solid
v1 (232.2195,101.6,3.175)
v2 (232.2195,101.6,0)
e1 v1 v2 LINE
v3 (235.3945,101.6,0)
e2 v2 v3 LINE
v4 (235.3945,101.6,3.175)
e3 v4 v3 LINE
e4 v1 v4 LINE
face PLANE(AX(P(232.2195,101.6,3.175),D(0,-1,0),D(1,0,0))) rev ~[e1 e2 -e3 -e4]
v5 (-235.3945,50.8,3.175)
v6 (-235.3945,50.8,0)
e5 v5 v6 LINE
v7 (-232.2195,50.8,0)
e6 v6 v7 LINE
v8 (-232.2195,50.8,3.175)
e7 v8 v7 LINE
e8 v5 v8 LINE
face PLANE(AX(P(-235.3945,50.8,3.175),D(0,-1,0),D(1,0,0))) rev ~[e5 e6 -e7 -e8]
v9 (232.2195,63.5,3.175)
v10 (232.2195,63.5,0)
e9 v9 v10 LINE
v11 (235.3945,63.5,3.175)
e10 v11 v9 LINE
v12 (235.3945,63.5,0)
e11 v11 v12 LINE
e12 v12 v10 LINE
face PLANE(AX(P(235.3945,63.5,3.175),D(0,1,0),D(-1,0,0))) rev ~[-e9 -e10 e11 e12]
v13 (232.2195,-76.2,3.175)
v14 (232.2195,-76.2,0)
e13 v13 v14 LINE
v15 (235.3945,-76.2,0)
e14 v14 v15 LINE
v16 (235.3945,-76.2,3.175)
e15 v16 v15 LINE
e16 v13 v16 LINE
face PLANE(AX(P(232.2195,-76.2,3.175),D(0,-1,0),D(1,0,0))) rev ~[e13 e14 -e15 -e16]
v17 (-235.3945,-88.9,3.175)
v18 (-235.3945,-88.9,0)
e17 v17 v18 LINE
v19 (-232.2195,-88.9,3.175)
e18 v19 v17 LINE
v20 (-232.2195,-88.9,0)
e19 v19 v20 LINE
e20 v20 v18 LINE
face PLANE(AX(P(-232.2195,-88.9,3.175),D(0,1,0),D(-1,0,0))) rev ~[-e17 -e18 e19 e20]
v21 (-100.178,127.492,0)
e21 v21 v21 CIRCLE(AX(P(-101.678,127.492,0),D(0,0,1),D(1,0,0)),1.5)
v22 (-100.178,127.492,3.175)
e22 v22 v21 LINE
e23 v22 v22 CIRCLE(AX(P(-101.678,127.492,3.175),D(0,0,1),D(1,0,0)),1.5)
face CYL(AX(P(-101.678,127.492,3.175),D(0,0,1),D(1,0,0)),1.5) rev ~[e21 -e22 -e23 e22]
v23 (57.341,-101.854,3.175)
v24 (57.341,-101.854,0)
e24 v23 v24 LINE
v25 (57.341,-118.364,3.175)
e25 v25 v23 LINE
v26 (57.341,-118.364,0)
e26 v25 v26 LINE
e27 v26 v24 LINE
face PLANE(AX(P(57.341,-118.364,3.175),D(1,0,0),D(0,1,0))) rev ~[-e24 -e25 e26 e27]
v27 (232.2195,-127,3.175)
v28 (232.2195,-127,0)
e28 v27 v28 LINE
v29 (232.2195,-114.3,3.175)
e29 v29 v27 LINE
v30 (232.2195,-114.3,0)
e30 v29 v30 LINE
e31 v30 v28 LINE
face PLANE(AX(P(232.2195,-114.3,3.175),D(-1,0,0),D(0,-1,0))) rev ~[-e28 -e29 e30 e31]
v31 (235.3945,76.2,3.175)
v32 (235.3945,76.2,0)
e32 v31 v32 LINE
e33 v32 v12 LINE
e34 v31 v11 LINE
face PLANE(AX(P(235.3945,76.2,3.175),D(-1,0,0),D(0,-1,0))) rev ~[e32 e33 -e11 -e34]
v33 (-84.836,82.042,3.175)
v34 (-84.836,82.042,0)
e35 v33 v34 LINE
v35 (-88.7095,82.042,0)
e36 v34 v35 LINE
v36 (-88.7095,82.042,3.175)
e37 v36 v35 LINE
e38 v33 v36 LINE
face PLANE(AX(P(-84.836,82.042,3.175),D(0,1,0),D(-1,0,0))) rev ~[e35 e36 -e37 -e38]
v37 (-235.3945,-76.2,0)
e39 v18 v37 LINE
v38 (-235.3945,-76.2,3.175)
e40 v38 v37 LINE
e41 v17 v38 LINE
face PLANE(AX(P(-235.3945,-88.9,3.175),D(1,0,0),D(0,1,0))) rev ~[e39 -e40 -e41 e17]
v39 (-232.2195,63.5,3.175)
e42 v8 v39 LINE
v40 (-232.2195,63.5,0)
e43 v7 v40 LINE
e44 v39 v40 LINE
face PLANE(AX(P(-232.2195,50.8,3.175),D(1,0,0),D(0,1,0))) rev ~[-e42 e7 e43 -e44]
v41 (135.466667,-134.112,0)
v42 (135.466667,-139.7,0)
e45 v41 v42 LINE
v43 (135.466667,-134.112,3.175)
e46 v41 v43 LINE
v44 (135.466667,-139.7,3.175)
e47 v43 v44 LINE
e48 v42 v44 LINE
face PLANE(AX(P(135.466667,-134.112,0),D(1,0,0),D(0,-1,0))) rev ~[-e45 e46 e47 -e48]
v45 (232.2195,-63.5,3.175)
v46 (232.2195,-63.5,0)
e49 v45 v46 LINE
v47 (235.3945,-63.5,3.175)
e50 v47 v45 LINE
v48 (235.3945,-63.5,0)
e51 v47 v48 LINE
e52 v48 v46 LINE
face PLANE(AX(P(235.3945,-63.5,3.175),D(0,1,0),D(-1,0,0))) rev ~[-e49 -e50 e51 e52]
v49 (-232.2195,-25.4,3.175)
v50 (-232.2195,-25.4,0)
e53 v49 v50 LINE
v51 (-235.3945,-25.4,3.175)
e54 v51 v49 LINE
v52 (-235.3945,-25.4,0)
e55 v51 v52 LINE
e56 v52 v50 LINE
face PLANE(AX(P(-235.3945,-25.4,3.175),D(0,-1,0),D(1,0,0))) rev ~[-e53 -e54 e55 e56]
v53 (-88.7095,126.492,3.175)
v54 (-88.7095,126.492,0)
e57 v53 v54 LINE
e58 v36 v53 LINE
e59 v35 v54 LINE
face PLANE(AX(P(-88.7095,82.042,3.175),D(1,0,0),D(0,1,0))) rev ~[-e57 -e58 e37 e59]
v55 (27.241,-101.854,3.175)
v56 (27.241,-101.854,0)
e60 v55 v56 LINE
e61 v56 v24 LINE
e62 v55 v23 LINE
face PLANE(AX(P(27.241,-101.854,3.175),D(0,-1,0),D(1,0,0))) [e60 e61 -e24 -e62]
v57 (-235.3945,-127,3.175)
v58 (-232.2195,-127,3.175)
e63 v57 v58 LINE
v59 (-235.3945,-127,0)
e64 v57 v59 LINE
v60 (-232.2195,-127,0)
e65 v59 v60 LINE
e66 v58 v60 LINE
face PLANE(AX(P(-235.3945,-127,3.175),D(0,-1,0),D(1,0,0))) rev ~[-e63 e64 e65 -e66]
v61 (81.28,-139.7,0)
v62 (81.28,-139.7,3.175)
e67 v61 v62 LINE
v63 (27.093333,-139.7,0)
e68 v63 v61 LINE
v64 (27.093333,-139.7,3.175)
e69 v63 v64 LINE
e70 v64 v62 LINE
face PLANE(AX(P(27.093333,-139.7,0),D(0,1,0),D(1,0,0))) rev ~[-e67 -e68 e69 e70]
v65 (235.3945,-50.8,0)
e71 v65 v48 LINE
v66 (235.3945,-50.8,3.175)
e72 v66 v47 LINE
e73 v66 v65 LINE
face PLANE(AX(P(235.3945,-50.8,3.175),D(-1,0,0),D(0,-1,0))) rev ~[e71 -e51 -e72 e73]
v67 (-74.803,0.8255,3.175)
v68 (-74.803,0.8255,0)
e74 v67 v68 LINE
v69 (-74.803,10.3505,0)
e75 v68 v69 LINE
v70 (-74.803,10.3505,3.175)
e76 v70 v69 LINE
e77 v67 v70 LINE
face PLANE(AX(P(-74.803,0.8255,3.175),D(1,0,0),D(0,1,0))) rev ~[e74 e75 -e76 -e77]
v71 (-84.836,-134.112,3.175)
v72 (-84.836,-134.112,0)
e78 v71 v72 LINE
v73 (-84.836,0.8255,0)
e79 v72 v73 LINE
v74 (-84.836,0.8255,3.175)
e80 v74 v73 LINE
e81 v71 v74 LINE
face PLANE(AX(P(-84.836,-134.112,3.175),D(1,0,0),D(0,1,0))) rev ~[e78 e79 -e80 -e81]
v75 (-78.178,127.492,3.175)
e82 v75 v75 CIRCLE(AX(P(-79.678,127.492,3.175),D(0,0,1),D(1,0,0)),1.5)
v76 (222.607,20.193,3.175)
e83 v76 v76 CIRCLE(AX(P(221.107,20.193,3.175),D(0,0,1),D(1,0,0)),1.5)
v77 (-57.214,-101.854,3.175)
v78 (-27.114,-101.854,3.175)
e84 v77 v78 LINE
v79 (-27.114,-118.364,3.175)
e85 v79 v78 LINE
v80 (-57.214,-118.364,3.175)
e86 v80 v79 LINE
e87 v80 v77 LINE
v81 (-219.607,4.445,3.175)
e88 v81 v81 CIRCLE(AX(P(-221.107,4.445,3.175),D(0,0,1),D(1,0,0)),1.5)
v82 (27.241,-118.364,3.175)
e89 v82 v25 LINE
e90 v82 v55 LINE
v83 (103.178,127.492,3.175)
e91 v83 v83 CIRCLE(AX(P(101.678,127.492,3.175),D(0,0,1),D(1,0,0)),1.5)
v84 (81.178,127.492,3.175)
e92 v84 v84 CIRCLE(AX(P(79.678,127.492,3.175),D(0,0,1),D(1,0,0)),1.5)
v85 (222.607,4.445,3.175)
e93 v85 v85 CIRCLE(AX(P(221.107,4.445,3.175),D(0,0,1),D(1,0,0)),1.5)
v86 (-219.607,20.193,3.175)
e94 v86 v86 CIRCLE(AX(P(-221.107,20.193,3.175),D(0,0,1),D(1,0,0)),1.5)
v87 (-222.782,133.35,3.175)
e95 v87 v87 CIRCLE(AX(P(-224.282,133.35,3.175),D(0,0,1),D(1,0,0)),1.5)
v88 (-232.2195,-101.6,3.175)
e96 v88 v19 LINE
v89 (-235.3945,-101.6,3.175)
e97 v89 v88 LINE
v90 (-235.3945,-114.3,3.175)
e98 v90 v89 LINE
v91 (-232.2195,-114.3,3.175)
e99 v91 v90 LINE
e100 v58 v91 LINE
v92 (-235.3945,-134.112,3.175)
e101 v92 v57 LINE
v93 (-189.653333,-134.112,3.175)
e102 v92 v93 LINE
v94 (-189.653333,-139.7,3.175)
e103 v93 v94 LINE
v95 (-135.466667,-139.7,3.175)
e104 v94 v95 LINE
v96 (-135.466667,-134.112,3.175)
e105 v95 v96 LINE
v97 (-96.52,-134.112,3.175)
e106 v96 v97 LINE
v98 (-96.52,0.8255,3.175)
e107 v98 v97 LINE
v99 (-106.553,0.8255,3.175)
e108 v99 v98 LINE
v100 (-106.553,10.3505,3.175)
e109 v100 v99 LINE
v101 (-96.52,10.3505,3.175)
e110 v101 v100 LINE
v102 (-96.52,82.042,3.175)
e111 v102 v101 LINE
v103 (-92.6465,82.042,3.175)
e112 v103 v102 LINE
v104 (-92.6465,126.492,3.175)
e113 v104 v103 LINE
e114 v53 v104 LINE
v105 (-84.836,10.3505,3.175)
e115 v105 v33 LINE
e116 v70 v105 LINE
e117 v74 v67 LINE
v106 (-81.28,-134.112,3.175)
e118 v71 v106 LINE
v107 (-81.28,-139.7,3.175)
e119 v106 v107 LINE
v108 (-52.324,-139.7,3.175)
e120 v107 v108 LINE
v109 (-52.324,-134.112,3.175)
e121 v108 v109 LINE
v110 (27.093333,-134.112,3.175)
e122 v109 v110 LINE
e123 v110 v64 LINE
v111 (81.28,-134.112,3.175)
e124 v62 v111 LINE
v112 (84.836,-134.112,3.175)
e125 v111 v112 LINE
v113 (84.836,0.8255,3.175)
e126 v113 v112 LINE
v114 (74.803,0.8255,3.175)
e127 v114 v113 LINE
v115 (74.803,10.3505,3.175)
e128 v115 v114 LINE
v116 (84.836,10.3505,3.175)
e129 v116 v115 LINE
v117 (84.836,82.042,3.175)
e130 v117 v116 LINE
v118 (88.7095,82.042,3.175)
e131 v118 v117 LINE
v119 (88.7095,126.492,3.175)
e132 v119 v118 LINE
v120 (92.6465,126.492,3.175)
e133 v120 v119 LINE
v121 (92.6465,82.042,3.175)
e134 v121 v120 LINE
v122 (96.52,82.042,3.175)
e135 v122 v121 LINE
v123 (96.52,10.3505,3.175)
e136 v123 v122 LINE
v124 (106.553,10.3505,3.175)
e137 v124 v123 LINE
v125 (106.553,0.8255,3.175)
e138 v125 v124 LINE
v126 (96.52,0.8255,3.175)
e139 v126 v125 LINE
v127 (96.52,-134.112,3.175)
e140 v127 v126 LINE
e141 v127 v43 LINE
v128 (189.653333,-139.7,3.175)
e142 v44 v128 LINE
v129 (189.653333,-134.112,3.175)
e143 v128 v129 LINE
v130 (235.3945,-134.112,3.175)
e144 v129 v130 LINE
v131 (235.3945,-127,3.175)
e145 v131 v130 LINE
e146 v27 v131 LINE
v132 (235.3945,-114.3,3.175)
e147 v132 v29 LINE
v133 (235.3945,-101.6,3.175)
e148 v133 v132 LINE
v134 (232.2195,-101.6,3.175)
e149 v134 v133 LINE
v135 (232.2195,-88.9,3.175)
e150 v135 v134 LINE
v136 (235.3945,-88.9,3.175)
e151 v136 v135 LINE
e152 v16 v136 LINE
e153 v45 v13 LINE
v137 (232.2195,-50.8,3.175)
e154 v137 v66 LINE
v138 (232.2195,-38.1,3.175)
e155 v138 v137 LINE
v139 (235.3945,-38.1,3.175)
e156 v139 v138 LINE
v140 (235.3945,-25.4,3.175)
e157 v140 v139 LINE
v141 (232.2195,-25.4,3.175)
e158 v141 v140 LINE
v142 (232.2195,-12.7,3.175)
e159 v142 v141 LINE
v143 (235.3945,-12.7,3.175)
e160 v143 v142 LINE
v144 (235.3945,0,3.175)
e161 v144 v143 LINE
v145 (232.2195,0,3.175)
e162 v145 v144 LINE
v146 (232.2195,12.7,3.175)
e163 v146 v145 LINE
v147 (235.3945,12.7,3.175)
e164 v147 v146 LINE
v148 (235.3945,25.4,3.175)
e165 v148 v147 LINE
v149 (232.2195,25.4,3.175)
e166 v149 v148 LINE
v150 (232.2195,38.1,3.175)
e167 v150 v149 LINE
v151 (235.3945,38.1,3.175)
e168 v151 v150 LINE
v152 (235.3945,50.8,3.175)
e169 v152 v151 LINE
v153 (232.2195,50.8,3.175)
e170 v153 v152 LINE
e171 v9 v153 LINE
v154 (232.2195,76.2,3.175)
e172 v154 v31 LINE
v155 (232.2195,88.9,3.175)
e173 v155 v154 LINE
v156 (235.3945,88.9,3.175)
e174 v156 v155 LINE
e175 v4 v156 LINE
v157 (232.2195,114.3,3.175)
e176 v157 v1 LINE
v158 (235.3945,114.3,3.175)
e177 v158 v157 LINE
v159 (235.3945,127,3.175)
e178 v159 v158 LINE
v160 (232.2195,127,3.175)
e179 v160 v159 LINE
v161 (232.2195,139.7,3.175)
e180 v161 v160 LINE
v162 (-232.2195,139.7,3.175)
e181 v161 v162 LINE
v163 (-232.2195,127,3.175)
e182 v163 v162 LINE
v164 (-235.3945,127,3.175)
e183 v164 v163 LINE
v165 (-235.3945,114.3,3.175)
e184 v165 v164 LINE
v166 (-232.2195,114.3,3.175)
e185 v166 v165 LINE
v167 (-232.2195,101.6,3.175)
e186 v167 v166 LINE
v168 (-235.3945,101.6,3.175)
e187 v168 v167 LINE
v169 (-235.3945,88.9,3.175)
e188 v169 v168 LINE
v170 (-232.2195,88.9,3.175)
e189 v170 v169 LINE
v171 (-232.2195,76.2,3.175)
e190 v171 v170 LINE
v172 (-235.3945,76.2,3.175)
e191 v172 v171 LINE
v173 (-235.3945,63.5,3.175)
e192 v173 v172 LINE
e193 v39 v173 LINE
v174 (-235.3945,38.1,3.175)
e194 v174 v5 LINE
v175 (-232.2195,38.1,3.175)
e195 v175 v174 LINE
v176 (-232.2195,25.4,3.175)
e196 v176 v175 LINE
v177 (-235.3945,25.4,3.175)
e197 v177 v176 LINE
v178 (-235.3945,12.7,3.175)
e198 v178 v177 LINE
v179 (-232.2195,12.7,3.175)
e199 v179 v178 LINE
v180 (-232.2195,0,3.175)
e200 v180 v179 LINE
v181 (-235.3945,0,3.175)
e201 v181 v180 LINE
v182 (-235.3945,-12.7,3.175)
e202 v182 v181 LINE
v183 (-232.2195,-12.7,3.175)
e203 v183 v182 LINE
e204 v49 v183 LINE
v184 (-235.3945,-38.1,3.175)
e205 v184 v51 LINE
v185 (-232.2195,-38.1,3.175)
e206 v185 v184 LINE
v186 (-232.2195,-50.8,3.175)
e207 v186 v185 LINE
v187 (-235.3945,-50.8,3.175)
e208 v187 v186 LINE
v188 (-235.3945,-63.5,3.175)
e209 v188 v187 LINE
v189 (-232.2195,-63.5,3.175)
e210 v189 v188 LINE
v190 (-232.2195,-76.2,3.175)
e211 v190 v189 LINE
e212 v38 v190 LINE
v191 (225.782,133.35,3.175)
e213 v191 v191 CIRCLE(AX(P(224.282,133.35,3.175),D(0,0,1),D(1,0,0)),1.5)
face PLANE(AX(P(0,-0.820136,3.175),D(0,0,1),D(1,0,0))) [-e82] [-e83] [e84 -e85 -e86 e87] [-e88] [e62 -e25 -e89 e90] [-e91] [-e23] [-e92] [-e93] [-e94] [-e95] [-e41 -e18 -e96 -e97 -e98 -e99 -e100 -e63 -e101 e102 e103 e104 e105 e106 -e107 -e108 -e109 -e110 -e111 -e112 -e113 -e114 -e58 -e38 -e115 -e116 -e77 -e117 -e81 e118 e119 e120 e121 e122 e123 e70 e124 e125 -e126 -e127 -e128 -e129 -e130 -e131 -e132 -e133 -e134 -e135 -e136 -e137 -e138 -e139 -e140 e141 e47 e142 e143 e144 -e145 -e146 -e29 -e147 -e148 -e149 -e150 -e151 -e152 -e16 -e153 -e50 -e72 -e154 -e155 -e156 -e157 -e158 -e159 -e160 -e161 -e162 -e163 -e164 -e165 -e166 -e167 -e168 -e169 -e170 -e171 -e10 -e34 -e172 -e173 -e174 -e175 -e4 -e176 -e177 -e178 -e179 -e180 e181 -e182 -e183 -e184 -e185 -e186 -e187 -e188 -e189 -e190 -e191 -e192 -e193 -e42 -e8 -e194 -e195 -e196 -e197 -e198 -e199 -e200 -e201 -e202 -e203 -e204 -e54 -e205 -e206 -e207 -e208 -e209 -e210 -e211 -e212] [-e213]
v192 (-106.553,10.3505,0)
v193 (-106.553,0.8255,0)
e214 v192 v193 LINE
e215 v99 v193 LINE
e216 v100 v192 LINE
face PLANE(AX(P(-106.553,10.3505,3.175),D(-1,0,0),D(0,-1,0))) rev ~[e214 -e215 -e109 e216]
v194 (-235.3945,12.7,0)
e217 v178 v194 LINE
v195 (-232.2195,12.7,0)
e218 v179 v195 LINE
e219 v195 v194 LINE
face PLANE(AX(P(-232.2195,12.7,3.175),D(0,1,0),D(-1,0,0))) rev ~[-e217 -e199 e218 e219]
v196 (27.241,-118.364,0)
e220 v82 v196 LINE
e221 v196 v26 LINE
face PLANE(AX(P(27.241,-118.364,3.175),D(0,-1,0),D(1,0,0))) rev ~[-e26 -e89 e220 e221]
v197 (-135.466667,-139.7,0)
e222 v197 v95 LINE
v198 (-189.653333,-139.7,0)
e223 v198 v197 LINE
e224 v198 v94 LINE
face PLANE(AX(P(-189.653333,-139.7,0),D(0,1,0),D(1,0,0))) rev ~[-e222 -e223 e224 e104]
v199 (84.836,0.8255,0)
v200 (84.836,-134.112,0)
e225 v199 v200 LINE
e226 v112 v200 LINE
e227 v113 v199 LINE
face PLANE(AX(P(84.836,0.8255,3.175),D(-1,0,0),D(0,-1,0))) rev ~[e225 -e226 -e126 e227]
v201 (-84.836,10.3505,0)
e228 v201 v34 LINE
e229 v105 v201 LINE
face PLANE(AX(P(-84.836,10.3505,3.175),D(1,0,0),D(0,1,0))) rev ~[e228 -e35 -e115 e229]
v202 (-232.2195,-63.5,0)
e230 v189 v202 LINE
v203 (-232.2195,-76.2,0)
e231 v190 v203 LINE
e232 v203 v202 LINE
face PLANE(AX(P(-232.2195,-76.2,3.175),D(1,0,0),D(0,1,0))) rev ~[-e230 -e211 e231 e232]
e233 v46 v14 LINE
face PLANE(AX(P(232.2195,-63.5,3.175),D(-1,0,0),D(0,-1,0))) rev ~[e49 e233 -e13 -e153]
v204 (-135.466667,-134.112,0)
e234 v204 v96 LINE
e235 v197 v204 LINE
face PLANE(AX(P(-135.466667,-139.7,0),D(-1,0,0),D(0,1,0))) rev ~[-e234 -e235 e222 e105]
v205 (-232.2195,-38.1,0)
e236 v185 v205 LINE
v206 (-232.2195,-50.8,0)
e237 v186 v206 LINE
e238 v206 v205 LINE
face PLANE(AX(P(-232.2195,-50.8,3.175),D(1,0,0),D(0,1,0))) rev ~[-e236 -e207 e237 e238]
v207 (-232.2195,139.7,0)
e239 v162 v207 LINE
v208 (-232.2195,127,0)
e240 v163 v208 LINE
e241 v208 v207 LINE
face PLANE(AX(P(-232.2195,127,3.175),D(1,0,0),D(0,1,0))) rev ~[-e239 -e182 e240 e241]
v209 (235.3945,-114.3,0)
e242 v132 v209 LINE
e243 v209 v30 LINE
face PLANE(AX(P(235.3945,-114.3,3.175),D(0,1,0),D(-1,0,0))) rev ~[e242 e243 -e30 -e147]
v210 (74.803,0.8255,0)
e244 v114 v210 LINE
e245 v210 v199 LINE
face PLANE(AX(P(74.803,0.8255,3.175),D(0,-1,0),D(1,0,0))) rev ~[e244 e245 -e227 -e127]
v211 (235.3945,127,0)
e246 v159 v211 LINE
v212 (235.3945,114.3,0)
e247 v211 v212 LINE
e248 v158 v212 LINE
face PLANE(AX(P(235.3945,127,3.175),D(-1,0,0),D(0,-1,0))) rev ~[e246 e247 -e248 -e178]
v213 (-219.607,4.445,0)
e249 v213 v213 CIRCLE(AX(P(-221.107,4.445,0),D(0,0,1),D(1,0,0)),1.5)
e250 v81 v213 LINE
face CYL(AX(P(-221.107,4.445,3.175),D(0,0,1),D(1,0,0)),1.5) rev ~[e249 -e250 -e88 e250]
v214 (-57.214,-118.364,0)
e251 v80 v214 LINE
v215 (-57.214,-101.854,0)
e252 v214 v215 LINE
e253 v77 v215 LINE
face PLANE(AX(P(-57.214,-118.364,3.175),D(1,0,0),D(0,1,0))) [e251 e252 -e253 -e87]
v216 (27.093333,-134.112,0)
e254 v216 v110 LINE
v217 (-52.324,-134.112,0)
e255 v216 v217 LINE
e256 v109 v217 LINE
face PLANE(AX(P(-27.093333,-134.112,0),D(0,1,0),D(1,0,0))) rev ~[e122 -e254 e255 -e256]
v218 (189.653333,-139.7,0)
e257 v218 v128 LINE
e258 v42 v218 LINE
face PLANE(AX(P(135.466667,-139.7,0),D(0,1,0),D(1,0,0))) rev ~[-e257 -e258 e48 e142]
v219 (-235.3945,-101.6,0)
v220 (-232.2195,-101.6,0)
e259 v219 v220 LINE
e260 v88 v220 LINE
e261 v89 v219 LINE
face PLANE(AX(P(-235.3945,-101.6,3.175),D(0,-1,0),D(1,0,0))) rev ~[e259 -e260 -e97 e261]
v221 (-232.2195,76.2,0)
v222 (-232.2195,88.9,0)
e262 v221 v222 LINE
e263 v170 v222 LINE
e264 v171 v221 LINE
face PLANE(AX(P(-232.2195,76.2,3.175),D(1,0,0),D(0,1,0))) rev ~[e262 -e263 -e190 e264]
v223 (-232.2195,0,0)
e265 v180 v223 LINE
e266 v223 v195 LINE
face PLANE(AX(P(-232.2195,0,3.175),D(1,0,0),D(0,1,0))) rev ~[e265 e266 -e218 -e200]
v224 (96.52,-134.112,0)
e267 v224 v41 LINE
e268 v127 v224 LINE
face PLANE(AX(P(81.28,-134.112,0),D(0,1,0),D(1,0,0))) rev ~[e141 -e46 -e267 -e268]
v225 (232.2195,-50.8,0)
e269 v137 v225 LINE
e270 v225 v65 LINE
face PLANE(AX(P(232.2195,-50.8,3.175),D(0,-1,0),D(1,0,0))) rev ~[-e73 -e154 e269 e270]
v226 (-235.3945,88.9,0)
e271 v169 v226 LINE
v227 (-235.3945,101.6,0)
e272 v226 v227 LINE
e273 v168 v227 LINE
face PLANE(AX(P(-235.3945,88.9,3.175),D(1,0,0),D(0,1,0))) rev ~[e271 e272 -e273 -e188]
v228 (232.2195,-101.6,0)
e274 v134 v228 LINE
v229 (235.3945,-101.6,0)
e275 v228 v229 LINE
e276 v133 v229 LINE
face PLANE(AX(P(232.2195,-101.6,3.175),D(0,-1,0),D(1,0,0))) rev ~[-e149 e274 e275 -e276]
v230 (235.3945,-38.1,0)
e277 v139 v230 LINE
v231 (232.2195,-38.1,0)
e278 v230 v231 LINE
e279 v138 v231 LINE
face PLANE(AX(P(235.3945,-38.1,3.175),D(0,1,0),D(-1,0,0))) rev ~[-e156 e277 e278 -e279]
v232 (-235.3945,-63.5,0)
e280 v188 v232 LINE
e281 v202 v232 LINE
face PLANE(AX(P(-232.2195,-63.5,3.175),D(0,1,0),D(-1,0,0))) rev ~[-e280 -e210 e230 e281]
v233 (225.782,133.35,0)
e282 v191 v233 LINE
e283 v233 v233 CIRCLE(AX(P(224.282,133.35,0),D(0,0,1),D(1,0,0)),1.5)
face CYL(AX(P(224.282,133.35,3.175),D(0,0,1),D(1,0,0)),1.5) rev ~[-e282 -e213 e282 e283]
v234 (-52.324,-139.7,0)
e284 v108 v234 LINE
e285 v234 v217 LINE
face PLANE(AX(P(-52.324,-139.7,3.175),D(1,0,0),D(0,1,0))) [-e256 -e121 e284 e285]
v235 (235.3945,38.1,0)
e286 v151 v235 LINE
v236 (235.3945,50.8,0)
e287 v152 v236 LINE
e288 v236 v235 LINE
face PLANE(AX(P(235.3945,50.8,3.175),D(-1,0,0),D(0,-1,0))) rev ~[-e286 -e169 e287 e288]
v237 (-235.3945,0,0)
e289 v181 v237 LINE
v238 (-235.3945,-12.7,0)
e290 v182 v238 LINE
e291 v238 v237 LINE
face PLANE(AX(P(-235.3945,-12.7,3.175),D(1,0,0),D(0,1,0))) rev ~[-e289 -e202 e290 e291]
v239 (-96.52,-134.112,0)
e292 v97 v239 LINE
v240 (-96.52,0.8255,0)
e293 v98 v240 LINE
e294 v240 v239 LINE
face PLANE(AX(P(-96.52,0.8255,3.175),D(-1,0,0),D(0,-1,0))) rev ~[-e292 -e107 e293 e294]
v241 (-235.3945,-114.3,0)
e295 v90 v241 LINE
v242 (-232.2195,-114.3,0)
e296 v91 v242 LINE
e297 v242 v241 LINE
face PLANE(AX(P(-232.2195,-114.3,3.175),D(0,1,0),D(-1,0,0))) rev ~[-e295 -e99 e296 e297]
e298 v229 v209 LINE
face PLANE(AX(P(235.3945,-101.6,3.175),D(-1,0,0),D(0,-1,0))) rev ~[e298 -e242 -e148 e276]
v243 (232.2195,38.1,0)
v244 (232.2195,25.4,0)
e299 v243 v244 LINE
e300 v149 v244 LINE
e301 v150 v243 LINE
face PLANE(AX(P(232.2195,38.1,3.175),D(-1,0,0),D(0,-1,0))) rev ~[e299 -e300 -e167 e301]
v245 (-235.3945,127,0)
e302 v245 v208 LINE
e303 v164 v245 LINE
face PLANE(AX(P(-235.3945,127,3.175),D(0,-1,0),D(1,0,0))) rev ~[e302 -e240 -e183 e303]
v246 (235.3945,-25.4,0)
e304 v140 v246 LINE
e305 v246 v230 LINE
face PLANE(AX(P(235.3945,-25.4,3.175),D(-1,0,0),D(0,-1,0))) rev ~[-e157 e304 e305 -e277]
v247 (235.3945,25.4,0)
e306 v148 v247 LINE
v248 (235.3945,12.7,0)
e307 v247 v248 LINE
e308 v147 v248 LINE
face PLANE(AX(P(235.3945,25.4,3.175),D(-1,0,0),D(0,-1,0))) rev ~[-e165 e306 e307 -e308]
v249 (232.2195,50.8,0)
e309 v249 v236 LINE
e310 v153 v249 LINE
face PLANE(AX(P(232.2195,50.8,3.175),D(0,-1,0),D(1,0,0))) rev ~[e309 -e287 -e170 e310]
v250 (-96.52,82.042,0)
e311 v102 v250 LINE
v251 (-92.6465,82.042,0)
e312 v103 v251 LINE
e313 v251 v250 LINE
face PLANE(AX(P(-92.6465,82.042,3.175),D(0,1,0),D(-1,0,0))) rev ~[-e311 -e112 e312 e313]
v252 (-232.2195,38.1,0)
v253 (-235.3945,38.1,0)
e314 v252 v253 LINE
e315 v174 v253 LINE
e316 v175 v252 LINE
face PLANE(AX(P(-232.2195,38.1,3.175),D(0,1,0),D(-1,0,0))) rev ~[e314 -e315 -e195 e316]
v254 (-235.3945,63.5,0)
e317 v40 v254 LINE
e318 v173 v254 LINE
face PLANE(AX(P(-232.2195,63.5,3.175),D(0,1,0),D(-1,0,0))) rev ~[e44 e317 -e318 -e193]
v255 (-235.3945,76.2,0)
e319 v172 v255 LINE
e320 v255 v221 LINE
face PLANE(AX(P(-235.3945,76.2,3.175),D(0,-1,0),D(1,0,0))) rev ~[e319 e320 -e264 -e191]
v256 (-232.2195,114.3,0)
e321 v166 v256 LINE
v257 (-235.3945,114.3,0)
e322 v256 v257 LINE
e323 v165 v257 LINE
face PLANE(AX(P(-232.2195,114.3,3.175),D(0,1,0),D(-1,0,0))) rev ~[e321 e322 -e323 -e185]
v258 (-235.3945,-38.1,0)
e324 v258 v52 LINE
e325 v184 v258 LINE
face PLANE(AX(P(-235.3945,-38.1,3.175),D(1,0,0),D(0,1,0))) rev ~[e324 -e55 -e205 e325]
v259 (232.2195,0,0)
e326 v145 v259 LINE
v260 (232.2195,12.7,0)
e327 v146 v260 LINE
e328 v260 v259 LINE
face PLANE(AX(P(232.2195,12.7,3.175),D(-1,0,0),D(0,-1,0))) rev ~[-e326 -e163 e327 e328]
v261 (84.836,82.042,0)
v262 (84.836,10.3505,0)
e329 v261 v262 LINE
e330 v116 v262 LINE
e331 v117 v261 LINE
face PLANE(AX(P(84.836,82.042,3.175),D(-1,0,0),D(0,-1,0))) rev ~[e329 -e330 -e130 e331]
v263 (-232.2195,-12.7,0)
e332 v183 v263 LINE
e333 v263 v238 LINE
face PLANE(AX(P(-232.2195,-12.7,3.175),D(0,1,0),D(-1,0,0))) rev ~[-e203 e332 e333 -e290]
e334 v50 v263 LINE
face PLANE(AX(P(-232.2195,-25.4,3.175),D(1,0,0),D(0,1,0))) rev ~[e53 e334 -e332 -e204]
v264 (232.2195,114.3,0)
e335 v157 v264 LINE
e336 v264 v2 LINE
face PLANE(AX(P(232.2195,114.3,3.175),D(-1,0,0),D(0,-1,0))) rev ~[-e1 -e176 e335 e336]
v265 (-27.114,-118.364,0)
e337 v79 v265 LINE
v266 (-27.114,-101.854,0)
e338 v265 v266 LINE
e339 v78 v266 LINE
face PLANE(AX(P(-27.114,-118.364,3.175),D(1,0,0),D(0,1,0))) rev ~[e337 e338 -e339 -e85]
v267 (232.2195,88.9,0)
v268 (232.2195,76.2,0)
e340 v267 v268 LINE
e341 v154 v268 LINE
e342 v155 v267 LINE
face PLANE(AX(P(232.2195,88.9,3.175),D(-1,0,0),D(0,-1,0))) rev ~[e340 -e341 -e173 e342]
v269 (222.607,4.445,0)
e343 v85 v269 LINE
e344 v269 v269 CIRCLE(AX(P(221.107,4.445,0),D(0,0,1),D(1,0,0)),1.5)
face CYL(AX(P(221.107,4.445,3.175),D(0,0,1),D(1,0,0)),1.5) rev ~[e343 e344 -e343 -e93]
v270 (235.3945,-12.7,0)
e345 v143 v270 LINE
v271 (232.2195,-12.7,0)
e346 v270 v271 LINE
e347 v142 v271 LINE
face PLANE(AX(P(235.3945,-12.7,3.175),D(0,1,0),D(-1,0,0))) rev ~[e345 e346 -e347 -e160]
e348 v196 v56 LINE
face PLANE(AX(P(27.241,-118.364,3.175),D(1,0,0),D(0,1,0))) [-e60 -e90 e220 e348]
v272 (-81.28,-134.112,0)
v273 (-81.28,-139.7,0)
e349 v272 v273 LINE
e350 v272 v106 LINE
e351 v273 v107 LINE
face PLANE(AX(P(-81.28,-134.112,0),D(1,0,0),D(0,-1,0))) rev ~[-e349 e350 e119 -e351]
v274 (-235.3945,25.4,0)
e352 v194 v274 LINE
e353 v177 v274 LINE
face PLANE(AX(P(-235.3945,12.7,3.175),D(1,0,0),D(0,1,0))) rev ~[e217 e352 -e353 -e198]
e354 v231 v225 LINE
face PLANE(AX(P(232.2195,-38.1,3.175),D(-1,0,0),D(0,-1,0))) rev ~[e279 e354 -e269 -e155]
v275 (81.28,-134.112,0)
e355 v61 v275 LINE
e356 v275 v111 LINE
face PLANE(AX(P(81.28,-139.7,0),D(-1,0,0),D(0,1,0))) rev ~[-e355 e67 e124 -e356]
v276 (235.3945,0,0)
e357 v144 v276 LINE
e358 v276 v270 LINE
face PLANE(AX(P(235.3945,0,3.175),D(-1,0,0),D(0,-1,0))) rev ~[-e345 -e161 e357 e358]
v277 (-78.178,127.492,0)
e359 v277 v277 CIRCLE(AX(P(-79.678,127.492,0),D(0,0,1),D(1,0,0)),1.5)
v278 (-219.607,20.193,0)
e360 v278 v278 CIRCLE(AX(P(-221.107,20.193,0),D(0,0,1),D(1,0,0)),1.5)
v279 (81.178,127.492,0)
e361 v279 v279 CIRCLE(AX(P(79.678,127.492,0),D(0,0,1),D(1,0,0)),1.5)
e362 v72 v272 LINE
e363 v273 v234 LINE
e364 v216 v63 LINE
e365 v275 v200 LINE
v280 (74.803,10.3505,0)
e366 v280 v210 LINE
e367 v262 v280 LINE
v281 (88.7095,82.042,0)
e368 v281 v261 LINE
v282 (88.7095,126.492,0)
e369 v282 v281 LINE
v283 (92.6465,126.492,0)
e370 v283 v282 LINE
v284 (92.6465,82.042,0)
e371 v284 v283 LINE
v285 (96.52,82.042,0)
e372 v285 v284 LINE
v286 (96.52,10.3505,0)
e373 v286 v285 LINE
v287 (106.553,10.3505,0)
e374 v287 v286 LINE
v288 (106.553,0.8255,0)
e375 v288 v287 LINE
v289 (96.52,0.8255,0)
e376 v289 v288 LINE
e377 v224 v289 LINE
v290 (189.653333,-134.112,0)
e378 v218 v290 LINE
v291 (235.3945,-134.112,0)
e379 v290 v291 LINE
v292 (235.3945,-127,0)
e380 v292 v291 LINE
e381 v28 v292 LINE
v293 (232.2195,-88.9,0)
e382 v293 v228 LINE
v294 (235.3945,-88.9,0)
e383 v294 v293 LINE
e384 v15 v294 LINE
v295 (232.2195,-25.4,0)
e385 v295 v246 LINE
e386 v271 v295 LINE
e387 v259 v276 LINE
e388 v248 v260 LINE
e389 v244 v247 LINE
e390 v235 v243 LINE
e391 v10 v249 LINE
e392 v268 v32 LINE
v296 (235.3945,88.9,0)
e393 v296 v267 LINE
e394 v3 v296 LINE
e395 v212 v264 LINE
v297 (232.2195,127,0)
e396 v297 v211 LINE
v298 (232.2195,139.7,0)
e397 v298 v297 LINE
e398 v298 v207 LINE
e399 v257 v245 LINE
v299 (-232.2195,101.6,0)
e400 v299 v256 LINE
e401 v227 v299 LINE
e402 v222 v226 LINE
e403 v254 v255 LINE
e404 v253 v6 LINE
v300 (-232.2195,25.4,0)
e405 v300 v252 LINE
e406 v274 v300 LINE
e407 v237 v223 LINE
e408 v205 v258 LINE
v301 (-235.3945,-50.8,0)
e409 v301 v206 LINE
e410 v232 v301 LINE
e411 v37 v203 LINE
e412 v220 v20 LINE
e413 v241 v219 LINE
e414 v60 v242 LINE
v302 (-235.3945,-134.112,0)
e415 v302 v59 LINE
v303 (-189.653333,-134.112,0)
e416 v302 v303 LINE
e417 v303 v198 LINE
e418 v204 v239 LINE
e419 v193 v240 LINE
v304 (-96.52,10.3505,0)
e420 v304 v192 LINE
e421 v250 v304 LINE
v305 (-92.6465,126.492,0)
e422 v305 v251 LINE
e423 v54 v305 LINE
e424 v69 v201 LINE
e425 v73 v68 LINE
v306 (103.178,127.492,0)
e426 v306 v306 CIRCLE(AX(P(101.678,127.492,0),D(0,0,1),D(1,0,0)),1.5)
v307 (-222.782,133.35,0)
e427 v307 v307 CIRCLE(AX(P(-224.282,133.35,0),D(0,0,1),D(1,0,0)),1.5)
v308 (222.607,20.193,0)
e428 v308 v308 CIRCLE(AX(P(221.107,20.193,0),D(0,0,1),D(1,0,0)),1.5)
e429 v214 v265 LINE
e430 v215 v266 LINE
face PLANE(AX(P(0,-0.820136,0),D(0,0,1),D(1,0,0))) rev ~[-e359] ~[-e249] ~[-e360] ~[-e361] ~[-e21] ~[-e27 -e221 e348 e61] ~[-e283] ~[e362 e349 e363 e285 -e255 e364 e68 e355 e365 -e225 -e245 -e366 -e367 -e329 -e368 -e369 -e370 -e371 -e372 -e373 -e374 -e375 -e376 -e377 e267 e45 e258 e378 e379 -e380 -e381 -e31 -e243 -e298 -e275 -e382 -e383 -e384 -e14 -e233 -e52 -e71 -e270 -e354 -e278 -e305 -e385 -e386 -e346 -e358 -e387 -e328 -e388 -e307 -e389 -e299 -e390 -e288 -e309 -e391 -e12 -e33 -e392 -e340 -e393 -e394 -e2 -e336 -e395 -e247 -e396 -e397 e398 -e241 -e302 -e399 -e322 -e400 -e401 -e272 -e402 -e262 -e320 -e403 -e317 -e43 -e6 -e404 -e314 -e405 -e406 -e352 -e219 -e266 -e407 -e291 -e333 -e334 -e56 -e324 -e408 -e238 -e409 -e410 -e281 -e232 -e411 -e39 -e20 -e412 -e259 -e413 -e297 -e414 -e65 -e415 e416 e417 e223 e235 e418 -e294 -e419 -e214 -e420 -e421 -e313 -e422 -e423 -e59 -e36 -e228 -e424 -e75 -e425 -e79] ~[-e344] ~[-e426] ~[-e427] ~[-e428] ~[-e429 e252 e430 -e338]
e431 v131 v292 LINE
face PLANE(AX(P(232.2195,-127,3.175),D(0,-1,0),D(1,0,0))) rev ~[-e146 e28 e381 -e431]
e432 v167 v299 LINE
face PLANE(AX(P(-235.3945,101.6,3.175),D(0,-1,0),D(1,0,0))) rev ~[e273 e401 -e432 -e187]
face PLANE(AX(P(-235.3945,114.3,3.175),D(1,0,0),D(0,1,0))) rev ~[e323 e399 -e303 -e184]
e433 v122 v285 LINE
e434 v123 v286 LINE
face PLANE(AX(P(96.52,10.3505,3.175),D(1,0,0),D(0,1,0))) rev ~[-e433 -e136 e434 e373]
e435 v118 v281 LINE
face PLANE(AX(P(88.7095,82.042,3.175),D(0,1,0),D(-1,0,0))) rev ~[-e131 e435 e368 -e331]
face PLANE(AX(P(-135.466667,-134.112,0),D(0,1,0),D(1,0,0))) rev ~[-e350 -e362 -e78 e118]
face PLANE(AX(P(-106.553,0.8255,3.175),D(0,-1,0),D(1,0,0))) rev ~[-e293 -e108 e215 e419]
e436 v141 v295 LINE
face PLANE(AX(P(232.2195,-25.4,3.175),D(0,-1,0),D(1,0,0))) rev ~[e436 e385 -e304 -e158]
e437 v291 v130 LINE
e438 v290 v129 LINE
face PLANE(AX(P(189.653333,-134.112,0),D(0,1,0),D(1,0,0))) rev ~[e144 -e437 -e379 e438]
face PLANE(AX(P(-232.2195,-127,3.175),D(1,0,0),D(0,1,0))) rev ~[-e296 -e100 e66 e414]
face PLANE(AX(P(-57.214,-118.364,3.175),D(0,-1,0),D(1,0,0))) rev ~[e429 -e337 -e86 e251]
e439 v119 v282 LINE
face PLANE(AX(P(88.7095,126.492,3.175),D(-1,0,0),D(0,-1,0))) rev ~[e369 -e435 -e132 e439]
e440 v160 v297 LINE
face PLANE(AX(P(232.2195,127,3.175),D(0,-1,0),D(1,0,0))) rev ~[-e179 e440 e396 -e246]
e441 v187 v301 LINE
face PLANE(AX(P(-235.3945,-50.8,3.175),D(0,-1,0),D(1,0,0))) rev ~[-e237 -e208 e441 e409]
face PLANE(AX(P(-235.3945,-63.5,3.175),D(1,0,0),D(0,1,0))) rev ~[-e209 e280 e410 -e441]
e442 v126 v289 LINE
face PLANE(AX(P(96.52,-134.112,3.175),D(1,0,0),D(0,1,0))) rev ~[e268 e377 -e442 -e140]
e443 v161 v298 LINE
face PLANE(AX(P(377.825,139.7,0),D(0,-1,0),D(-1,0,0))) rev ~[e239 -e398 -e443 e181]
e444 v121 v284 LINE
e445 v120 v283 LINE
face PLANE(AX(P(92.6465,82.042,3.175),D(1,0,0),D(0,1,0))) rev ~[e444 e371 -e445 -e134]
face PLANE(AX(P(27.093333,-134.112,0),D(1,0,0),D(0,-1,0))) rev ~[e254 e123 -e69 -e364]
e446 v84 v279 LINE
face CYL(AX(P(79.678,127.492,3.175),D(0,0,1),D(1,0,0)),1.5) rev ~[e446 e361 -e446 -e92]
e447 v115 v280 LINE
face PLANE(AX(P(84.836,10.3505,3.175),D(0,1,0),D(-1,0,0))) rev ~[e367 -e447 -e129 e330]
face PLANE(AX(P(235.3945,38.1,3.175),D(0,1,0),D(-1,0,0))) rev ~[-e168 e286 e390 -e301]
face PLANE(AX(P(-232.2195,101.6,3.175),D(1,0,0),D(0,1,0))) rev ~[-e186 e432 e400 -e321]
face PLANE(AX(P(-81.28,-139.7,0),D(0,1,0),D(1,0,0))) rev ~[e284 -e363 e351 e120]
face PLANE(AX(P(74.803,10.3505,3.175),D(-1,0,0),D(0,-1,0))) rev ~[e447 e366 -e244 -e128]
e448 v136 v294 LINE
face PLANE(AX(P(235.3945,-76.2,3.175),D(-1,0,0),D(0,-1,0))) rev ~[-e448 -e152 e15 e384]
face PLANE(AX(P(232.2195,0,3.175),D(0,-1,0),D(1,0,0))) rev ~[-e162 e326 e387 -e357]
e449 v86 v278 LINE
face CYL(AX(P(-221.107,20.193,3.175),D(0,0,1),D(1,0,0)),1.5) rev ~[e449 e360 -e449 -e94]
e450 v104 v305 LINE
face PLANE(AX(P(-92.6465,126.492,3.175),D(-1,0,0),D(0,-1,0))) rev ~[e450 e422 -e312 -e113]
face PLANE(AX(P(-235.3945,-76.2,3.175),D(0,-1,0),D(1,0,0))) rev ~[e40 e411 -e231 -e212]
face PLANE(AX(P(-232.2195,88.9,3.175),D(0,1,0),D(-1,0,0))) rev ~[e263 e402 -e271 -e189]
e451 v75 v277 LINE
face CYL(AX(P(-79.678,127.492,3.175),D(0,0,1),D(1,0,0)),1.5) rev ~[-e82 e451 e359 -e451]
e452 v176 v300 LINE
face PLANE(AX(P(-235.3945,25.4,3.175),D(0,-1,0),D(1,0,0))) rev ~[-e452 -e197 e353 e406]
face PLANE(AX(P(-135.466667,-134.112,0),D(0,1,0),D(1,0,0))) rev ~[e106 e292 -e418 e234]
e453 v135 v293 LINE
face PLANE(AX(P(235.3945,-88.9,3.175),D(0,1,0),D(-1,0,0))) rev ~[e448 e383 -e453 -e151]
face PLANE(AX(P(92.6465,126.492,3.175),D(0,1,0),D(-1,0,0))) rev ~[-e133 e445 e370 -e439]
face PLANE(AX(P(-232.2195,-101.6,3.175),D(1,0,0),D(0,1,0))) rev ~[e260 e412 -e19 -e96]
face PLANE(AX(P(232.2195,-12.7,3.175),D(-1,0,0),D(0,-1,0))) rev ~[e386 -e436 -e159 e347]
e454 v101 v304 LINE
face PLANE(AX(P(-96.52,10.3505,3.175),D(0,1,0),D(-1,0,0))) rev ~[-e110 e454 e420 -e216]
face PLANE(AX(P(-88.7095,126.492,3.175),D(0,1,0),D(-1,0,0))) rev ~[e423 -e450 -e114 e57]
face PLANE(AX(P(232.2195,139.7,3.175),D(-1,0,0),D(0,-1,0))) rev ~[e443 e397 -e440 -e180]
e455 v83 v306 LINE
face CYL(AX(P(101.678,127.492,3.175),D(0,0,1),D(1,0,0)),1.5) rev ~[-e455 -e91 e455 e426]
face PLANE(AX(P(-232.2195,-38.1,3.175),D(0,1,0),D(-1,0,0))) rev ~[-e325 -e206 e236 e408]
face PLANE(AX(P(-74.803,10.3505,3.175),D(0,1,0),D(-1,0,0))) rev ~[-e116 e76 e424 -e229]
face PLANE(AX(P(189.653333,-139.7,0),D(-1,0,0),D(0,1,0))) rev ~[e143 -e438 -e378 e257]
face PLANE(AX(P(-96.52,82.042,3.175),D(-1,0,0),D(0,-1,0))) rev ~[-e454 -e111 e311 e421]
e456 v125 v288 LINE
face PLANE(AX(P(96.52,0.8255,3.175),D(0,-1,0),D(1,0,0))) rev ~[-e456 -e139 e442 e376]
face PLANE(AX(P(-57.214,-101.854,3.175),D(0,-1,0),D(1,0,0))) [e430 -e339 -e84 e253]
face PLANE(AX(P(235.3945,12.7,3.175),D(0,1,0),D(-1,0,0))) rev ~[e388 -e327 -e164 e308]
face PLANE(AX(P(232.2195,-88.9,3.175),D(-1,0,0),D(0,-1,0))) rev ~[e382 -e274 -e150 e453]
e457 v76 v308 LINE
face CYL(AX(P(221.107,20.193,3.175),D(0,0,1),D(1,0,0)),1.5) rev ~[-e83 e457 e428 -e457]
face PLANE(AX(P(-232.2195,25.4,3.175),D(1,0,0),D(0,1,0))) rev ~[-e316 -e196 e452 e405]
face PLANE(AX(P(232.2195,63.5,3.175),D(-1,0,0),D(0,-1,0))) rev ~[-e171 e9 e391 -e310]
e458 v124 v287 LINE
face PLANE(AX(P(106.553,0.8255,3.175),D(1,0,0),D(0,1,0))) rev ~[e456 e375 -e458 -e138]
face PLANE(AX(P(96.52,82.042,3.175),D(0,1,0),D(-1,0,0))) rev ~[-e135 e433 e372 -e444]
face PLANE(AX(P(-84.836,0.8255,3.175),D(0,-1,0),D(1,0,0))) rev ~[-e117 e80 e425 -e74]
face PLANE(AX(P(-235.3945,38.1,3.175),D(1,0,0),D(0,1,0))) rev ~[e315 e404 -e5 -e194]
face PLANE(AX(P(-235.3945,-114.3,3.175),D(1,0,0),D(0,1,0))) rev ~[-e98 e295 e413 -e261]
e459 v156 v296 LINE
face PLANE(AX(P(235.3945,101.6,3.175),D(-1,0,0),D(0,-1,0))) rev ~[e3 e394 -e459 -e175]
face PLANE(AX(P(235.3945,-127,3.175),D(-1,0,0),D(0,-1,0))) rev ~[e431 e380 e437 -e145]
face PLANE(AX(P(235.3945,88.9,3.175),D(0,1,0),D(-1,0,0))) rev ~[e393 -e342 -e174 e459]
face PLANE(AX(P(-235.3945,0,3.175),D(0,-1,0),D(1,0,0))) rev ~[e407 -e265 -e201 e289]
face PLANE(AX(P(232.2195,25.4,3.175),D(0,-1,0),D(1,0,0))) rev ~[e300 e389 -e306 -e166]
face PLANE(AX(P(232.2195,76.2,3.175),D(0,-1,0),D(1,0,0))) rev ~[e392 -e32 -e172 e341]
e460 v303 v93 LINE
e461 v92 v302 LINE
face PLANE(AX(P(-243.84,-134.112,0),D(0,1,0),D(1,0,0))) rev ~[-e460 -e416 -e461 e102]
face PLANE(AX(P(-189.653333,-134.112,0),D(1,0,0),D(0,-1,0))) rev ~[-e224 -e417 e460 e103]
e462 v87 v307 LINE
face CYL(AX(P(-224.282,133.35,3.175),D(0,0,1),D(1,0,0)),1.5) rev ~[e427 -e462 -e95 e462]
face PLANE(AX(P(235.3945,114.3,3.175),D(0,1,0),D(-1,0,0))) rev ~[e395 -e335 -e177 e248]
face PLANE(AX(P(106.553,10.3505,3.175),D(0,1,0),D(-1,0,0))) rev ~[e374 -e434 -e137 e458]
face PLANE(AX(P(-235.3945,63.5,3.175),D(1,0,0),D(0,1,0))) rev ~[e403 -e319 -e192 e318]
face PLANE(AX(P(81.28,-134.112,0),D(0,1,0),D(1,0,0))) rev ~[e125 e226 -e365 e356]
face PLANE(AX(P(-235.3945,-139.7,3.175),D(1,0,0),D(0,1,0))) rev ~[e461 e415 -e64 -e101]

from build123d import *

# Parameters (mm, degrees)
SKETCH1_W                    = 3.175
SKETCH1_H                    = 12.7
MAIN_EXTRUDE_DEPTH           = 3.175
SKETCH8_R                    = 1.5
SKETCH8_W                    = 3.175
SKETCH8_H                    = 31.877
MOUNT_HOLES_DEPTH            = 430.752406189
DOOR_SLOTS_DEPTH             = 430.752406189
SKETCH10_R                   = 1.5
DOOR_GUIDE_MOUNT_HOLES_DEPTH = 430.752406189
SKETCH12_R                   = 1.5
EXTENSION_CLIP_HOLES_DEPTH   = 430.752406189
EXTENSION_CENTER_CUT_DEPTH   = 430.752406189
SKETCH17_W                   = 30.1
SKETCH17_H                   = 16.51
SKETCH17_W_2                 = 25.230666667
SKETCH17_H_2                 = 5.588
NOSEPOKES_SCOPED_DEPTH       = 274.745760251


with BuildPart() as part:
    # Sketch1 → Main Extrude (new body)
    with BuildSketch(Plane.XY):
        Polygon((-381, 139.7), (-406.4, 139.7), (-406.4, -139.7), (-352.213333333, -139.7), (-352.213333333, -134.112), (-298.026666667, -134.112), (-298.026666667, -139.7), (-243.84, -139.7), (-243.84, -134.112), (-189.653333333, -134.112), (-189.653333333, -139.7), (-135.466666667, -139.7), (-135.466666667, -134.112), (-81.28, -134.112), (-81.28, -139.7), (-27.093333333, -139.7), (-27.093333333, -134.112), (27.093333333, -134.112), (27.093333333, -139.7), (81.28, -139.7), (81.28, -134.112), (135.466666667, -134.112), (135.466666667, -139.7), (189.653333333, -139.7), (189.653333333, -134.112), (243.84, -134.112), (243.84, -139.7), (298.026666667, -139.7), (298.026666667, -134.112), (352.213333333, -134.112), (352.213333333, -139.7), (406.4, -139.7), (406.4, 139.7), (381, 139.7), (381, 127), (377.825, 127), (377.825, 139.7), (-377.825, 139.7), (-377.825, 127), (-381, 127), align=None)
        with Locations((-379.4125, 107.95)):
            Rectangle(SKETCH1_W, SKETCH1_H, mode=Mode.SUBTRACT)
        with Locations((-379.4125, 82.55)):
            Rectangle(SKETCH1_W, SKETCH1_H, mode=Mode.SUBTRACT)
        with Locations((-379.4125, 57.15)):
            Rectangle(SKETCH1_W, SKETCH1_H, mode=Mode.SUBTRACT)
        with Locations((-379.4125, 31.75)):
            Rectangle(SKETCH1_W, SKETCH1_H, mode=Mode.SUBTRACT)
        with Locations((-379.4125, 6.35)):
            Rectangle(SKETCH1_W, SKETCH1_H, mode=Mode.SUBTRACT)
        with Locations((-379.4125, -19.05)):
            Rectangle(SKETCH1_W, SKETCH1_H, mode=Mode.SUBTRACT)
        with Locations((-379.4125, -44.45)):
            Rectangle(SKETCH1_W, SKETCH1_H, mode=Mode.SUBTRACT)
        with Locations((-379.4125, -69.85)):
            Rectangle(SKETCH1_W, SKETCH1_H, mode=Mode.SUBTRACT)
        with Locations((-379.4125, -95.25)):
            Rectangle(SKETCH1_W, SKETCH1_H, mode=Mode.SUBTRACT)
        with Locations((-379.4125, -120.65)):
            Rectangle(SKETCH1_W, SKETCH1_H, mode=Mode.SUBTRACT)
        with Locations((379.4125, 107.95)):
            Rectangle(SKETCH1_W, SKETCH1_H, mode=Mode.SUBTRACT)
        with Locations((379.4125, 82.55)):
            Rectangle(SKETCH1_W, SKETCH1_H, mode=Mode.SUBTRACT)
        with Locations((379.4125, 57.15)):
            Rectangle(SKETCH1_W, SKETCH1_H, mode=Mode.SUBTRACT)
        with Locations((379.4125, 31.75)):
            Rectangle(SKETCH1_W, SKETCH1_H, mode=Mode.SUBTRACT)
        with Locations((379.4125, 6.35)):
            Rectangle(SKETCH1_W, SKETCH1_H, mode=Mode.SUBTRACT)
        with Locations((379.4125, -19.05)):
            Rectangle(SKETCH1_W, SKETCH1_H, mode=Mode.SUBTRACT)
        with Locations((379.4125, -44.45)):
            Rectangle(SKETCH1_W, SKETCH1_H, mode=Mode.SUBTRACT)
        with Locations((379.4125, -69.85)):
            Rectangle(SKETCH1_W, SKETCH1_H, mode=Mode.SUBTRACT)
        with Locations((379.4125, -95.25)):
            Rectangle(SKETCH1_W, SKETCH1_H, mode=Mode.SUBTRACT)
        with Locations((379.4125, -120.65)):
            Rectangle(SKETCH1_W, SKETCH1_H, mode=Mode.SUBTRACT)
    extrude(amount=MAIN_EXTRUDE_DEPTH)

    # Sketch8 → Mount Holes (cut, through all)
    with BuildSketch(Plane.XY.offset(3.175)):
        with Locations((-393.7, -120.65)):
            Circle(SKETCH8_R)
        with Locations((393.7, -120.65)):
            Circle(SKETCH8_R)
        with Locations((-382.5875, 12.319)):
            Rectangle(SKETCH8_W, SKETCH8_H)
        with Locations((382.5875, 12.319)):
            Rectangle(SKETCH8_W, SKETCH8_H)
    extrude(amount=-MOUNT_HOLES_DEPTH, mode=Mode.SUBTRACT)

    # Sketch3 → Door Slots (cut, through all)
    with BuildSketch(Plane.XY.offset(3.175)):
        Polygon((-88.7095, 126.492), (-92.6465, 126.492), (-92.6465, 82.042), (-96.52, 82.042), (-96.52, 10.3505), (-106.553, 10.3505), (-106.553, 0.8255), (-96.52, 0.8255), (-96.52, -134.112), (-84.836, -134.112), (-84.836, 0.8255), (-74.803, 0.8255), (-74.803, 10.3505), (-84.836, 10.3505), (-84.836, 82.042), (-88.7095, 82.042), align=None)
        Polygon((92.6465, 126.492), (88.7095, 126.492), (88.7095, 82.042), (84.836, 82.042), (84.836, 10.3505), (74.803, 10.3505), (74.803, 0.8255), (84.836, 0.8255), (84.836, -134.112), (96.52, -134.112), (96.52, 0.8255), (106.553, 0.8255), (106.553, 10.3505), (96.52, 10.3505), (96.52, 82.042), (92.6465, 82.042), align=None)
    extrude(amount=-DOOR_SLOTS_DEPTH, mode=Mode.SUBTRACT)

    # Sketch10 → Door Guide Mount Holes (cut, through all)
    with BuildSketch(Plane.XY.offset(3.175)):
        with Locations((-101.678, 127.492)):
            Circle(SKETCH10_R)
        with Locations((-79.678, 127.492)):
            Circle(SKETCH10_R)
        with Locations((79.678, 127.492)):
            Circle(SKETCH10_R)
        with Locations((101.678, 127.492)):
            Circle(SKETCH10_R)
    extrude(amount=-DOOR_GUIDE_MOUNT_HOLES_DEPTH, mode=Mode.SUBTRACT)

    # Sketch12 → Extension Clip Holes (cut, through all)
    with BuildSketch(Plane.XY.offset(3.175)):
        with Locations((-246.507, 20.193)):
            Circle(SKETCH12_R)
        with Locations((-246.507, 4.445)):
            Circle(SKETCH12_R)
        with Locations((-221.107, 4.445)):
            Circle(SKETCH12_R)
        with Locations((-221.107, 20.193)):
            Circle(SKETCH12_R)
        with Locations((-243.332, 133.35)):
            Circle(SKETCH12_R)
        with Locations((-224.282, 133.35)):
            Circle(SKETCH12_R)
        with Locations((224.282, 133.35)):
            Circle(SKETCH12_R)
        with Locations((243.332, 133.35)):
            Circle(SKETCH12_R)
        with Locations((221.107, 20.193)):
            Circle(SKETCH12_R)
        with Locations((221.107, 4.445)):
            Circle(SKETCH12_R)
        with Locations((246.507, 4.445)):
            Circle(SKETCH12_R)
        with Locations((246.507, 20.193)):
            Circle(SKETCH12_R)
    extrude(amount=-EXTENSION_CLIP_HOLES_DEPTH, mode=Mode.SUBTRACT)

    # Sketch11<3> → Extension Center Cut (cut, through all)
    with BuildSketch(Plane.XY.offset(3.175)):
        Polygon((-232.2195, 127), (-232.2195, 139.7), (-406.4, 139.7), (-406.4, -139.7), (-235.3945, -139.7), (-235.3945, -127), (-232.2195, -127), (-232.2195, -114.3), (-235.3945, -114.3), (-235.3945, -101.6), (-232.2195, -101.6), (-232.2195, -88.9), (-235.3945, -88.9), (-235.3945, -76.2), (-232.2195, -76.2), (-232.2195, -63.5), (-235.3945, -63.5), (-235.3945, -50.8), (-232.2195, -50.8), (-232.2195, -38.1), (-235.3945, -38.1), (-235.3945, -25.4), (-232.2195, -25.4), (-232.2195, -12.7), (-235.3945, -12.7), (-235.3945, 0), (-232.2195, 0), (-232.2195, 12.7), (-235.3945, 12.7), (-235.3945, 25.4), (-232.2195, 25.4), (-232.2195, 38.1), (-235.3945, 38.1), (-235.3945, 50.8), (-232.2195, 50.8), (-232.2195, 63.5), (-235.3945, 63.5), (-235.3945, 76.2), (-232.2195, 76.2), (-232.2195, 88.9), (-235.3945, 88.9), (-235.3945, 101.6), (-232.2195, 101.6), (-232.2195, 114.3), (-235.3945, 114.3), (-235.3945, 127), align=None)
        Polygon((406.4, 139.7), (232.2195, 139.7), (232.2195, 127), (235.3945, 127), (235.3945, 114.3), (232.2195, 114.3), (232.2195, 101.6), (235.3945, 101.6), (235.3945, 88.9), (232.2195, 88.9), (232.2195, 76.2), (235.3945, 76.2), (235.3945, 63.5), (232.2195, 63.5), (232.2195, 50.8), (235.3945, 50.8), (235.3945, 38.1), (232.2195, 38.1), (232.2195, 25.4), (235.3945, 25.4), (235.3945, 12.7), (232.2195, 12.7), (232.2195, 0), (235.3945, 0), (235.3945, -12.7), (232.2195, -12.7), (232.2195, -25.4), (235.3945, -25.4), (235.3945, -38.1), (232.2195, -38.1), (232.2195, -50.8), (235.3945, -50.8), (235.3945, -63.5), (232.2195, -63.5), (232.2195, -76.2), (235.3945, -76.2), (235.3945, -88.9), (232.2195, -88.9), (232.2195, -101.6), (235.3945, -101.6), (235.3945, -114.3), (232.2195, -114.3), (232.2195, -127), (235.3945, -127), (235.3945, -139.7), (406.4, -139.7), align=None)
    extrude(amount=-EXTENSION_CENTER_CUT_DEPTH, mode=Mode.SUBTRACT)

    # Sketch17 → nosepokes_scoped (cut, through all)
    with BuildSketch(Plane.XY.offset(3.175)):
        with Locations((42.291, -110.109)):
            Rectangle(SKETCH17_W, SKETCH17_H)
        with Locations((-42.164, -110.109)):
            Rectangle(SKETCH17_W, SKETCH17_H)
        with Locations((-39.708666667, -136.906)):
            Rectangle(SKETCH17_W_2, SKETCH17_H_2)
    extrude(amount=-NOSEPOKES_SCOPED_DEPTH, mode=Mode.SUBTRACT)


solid = part.part
